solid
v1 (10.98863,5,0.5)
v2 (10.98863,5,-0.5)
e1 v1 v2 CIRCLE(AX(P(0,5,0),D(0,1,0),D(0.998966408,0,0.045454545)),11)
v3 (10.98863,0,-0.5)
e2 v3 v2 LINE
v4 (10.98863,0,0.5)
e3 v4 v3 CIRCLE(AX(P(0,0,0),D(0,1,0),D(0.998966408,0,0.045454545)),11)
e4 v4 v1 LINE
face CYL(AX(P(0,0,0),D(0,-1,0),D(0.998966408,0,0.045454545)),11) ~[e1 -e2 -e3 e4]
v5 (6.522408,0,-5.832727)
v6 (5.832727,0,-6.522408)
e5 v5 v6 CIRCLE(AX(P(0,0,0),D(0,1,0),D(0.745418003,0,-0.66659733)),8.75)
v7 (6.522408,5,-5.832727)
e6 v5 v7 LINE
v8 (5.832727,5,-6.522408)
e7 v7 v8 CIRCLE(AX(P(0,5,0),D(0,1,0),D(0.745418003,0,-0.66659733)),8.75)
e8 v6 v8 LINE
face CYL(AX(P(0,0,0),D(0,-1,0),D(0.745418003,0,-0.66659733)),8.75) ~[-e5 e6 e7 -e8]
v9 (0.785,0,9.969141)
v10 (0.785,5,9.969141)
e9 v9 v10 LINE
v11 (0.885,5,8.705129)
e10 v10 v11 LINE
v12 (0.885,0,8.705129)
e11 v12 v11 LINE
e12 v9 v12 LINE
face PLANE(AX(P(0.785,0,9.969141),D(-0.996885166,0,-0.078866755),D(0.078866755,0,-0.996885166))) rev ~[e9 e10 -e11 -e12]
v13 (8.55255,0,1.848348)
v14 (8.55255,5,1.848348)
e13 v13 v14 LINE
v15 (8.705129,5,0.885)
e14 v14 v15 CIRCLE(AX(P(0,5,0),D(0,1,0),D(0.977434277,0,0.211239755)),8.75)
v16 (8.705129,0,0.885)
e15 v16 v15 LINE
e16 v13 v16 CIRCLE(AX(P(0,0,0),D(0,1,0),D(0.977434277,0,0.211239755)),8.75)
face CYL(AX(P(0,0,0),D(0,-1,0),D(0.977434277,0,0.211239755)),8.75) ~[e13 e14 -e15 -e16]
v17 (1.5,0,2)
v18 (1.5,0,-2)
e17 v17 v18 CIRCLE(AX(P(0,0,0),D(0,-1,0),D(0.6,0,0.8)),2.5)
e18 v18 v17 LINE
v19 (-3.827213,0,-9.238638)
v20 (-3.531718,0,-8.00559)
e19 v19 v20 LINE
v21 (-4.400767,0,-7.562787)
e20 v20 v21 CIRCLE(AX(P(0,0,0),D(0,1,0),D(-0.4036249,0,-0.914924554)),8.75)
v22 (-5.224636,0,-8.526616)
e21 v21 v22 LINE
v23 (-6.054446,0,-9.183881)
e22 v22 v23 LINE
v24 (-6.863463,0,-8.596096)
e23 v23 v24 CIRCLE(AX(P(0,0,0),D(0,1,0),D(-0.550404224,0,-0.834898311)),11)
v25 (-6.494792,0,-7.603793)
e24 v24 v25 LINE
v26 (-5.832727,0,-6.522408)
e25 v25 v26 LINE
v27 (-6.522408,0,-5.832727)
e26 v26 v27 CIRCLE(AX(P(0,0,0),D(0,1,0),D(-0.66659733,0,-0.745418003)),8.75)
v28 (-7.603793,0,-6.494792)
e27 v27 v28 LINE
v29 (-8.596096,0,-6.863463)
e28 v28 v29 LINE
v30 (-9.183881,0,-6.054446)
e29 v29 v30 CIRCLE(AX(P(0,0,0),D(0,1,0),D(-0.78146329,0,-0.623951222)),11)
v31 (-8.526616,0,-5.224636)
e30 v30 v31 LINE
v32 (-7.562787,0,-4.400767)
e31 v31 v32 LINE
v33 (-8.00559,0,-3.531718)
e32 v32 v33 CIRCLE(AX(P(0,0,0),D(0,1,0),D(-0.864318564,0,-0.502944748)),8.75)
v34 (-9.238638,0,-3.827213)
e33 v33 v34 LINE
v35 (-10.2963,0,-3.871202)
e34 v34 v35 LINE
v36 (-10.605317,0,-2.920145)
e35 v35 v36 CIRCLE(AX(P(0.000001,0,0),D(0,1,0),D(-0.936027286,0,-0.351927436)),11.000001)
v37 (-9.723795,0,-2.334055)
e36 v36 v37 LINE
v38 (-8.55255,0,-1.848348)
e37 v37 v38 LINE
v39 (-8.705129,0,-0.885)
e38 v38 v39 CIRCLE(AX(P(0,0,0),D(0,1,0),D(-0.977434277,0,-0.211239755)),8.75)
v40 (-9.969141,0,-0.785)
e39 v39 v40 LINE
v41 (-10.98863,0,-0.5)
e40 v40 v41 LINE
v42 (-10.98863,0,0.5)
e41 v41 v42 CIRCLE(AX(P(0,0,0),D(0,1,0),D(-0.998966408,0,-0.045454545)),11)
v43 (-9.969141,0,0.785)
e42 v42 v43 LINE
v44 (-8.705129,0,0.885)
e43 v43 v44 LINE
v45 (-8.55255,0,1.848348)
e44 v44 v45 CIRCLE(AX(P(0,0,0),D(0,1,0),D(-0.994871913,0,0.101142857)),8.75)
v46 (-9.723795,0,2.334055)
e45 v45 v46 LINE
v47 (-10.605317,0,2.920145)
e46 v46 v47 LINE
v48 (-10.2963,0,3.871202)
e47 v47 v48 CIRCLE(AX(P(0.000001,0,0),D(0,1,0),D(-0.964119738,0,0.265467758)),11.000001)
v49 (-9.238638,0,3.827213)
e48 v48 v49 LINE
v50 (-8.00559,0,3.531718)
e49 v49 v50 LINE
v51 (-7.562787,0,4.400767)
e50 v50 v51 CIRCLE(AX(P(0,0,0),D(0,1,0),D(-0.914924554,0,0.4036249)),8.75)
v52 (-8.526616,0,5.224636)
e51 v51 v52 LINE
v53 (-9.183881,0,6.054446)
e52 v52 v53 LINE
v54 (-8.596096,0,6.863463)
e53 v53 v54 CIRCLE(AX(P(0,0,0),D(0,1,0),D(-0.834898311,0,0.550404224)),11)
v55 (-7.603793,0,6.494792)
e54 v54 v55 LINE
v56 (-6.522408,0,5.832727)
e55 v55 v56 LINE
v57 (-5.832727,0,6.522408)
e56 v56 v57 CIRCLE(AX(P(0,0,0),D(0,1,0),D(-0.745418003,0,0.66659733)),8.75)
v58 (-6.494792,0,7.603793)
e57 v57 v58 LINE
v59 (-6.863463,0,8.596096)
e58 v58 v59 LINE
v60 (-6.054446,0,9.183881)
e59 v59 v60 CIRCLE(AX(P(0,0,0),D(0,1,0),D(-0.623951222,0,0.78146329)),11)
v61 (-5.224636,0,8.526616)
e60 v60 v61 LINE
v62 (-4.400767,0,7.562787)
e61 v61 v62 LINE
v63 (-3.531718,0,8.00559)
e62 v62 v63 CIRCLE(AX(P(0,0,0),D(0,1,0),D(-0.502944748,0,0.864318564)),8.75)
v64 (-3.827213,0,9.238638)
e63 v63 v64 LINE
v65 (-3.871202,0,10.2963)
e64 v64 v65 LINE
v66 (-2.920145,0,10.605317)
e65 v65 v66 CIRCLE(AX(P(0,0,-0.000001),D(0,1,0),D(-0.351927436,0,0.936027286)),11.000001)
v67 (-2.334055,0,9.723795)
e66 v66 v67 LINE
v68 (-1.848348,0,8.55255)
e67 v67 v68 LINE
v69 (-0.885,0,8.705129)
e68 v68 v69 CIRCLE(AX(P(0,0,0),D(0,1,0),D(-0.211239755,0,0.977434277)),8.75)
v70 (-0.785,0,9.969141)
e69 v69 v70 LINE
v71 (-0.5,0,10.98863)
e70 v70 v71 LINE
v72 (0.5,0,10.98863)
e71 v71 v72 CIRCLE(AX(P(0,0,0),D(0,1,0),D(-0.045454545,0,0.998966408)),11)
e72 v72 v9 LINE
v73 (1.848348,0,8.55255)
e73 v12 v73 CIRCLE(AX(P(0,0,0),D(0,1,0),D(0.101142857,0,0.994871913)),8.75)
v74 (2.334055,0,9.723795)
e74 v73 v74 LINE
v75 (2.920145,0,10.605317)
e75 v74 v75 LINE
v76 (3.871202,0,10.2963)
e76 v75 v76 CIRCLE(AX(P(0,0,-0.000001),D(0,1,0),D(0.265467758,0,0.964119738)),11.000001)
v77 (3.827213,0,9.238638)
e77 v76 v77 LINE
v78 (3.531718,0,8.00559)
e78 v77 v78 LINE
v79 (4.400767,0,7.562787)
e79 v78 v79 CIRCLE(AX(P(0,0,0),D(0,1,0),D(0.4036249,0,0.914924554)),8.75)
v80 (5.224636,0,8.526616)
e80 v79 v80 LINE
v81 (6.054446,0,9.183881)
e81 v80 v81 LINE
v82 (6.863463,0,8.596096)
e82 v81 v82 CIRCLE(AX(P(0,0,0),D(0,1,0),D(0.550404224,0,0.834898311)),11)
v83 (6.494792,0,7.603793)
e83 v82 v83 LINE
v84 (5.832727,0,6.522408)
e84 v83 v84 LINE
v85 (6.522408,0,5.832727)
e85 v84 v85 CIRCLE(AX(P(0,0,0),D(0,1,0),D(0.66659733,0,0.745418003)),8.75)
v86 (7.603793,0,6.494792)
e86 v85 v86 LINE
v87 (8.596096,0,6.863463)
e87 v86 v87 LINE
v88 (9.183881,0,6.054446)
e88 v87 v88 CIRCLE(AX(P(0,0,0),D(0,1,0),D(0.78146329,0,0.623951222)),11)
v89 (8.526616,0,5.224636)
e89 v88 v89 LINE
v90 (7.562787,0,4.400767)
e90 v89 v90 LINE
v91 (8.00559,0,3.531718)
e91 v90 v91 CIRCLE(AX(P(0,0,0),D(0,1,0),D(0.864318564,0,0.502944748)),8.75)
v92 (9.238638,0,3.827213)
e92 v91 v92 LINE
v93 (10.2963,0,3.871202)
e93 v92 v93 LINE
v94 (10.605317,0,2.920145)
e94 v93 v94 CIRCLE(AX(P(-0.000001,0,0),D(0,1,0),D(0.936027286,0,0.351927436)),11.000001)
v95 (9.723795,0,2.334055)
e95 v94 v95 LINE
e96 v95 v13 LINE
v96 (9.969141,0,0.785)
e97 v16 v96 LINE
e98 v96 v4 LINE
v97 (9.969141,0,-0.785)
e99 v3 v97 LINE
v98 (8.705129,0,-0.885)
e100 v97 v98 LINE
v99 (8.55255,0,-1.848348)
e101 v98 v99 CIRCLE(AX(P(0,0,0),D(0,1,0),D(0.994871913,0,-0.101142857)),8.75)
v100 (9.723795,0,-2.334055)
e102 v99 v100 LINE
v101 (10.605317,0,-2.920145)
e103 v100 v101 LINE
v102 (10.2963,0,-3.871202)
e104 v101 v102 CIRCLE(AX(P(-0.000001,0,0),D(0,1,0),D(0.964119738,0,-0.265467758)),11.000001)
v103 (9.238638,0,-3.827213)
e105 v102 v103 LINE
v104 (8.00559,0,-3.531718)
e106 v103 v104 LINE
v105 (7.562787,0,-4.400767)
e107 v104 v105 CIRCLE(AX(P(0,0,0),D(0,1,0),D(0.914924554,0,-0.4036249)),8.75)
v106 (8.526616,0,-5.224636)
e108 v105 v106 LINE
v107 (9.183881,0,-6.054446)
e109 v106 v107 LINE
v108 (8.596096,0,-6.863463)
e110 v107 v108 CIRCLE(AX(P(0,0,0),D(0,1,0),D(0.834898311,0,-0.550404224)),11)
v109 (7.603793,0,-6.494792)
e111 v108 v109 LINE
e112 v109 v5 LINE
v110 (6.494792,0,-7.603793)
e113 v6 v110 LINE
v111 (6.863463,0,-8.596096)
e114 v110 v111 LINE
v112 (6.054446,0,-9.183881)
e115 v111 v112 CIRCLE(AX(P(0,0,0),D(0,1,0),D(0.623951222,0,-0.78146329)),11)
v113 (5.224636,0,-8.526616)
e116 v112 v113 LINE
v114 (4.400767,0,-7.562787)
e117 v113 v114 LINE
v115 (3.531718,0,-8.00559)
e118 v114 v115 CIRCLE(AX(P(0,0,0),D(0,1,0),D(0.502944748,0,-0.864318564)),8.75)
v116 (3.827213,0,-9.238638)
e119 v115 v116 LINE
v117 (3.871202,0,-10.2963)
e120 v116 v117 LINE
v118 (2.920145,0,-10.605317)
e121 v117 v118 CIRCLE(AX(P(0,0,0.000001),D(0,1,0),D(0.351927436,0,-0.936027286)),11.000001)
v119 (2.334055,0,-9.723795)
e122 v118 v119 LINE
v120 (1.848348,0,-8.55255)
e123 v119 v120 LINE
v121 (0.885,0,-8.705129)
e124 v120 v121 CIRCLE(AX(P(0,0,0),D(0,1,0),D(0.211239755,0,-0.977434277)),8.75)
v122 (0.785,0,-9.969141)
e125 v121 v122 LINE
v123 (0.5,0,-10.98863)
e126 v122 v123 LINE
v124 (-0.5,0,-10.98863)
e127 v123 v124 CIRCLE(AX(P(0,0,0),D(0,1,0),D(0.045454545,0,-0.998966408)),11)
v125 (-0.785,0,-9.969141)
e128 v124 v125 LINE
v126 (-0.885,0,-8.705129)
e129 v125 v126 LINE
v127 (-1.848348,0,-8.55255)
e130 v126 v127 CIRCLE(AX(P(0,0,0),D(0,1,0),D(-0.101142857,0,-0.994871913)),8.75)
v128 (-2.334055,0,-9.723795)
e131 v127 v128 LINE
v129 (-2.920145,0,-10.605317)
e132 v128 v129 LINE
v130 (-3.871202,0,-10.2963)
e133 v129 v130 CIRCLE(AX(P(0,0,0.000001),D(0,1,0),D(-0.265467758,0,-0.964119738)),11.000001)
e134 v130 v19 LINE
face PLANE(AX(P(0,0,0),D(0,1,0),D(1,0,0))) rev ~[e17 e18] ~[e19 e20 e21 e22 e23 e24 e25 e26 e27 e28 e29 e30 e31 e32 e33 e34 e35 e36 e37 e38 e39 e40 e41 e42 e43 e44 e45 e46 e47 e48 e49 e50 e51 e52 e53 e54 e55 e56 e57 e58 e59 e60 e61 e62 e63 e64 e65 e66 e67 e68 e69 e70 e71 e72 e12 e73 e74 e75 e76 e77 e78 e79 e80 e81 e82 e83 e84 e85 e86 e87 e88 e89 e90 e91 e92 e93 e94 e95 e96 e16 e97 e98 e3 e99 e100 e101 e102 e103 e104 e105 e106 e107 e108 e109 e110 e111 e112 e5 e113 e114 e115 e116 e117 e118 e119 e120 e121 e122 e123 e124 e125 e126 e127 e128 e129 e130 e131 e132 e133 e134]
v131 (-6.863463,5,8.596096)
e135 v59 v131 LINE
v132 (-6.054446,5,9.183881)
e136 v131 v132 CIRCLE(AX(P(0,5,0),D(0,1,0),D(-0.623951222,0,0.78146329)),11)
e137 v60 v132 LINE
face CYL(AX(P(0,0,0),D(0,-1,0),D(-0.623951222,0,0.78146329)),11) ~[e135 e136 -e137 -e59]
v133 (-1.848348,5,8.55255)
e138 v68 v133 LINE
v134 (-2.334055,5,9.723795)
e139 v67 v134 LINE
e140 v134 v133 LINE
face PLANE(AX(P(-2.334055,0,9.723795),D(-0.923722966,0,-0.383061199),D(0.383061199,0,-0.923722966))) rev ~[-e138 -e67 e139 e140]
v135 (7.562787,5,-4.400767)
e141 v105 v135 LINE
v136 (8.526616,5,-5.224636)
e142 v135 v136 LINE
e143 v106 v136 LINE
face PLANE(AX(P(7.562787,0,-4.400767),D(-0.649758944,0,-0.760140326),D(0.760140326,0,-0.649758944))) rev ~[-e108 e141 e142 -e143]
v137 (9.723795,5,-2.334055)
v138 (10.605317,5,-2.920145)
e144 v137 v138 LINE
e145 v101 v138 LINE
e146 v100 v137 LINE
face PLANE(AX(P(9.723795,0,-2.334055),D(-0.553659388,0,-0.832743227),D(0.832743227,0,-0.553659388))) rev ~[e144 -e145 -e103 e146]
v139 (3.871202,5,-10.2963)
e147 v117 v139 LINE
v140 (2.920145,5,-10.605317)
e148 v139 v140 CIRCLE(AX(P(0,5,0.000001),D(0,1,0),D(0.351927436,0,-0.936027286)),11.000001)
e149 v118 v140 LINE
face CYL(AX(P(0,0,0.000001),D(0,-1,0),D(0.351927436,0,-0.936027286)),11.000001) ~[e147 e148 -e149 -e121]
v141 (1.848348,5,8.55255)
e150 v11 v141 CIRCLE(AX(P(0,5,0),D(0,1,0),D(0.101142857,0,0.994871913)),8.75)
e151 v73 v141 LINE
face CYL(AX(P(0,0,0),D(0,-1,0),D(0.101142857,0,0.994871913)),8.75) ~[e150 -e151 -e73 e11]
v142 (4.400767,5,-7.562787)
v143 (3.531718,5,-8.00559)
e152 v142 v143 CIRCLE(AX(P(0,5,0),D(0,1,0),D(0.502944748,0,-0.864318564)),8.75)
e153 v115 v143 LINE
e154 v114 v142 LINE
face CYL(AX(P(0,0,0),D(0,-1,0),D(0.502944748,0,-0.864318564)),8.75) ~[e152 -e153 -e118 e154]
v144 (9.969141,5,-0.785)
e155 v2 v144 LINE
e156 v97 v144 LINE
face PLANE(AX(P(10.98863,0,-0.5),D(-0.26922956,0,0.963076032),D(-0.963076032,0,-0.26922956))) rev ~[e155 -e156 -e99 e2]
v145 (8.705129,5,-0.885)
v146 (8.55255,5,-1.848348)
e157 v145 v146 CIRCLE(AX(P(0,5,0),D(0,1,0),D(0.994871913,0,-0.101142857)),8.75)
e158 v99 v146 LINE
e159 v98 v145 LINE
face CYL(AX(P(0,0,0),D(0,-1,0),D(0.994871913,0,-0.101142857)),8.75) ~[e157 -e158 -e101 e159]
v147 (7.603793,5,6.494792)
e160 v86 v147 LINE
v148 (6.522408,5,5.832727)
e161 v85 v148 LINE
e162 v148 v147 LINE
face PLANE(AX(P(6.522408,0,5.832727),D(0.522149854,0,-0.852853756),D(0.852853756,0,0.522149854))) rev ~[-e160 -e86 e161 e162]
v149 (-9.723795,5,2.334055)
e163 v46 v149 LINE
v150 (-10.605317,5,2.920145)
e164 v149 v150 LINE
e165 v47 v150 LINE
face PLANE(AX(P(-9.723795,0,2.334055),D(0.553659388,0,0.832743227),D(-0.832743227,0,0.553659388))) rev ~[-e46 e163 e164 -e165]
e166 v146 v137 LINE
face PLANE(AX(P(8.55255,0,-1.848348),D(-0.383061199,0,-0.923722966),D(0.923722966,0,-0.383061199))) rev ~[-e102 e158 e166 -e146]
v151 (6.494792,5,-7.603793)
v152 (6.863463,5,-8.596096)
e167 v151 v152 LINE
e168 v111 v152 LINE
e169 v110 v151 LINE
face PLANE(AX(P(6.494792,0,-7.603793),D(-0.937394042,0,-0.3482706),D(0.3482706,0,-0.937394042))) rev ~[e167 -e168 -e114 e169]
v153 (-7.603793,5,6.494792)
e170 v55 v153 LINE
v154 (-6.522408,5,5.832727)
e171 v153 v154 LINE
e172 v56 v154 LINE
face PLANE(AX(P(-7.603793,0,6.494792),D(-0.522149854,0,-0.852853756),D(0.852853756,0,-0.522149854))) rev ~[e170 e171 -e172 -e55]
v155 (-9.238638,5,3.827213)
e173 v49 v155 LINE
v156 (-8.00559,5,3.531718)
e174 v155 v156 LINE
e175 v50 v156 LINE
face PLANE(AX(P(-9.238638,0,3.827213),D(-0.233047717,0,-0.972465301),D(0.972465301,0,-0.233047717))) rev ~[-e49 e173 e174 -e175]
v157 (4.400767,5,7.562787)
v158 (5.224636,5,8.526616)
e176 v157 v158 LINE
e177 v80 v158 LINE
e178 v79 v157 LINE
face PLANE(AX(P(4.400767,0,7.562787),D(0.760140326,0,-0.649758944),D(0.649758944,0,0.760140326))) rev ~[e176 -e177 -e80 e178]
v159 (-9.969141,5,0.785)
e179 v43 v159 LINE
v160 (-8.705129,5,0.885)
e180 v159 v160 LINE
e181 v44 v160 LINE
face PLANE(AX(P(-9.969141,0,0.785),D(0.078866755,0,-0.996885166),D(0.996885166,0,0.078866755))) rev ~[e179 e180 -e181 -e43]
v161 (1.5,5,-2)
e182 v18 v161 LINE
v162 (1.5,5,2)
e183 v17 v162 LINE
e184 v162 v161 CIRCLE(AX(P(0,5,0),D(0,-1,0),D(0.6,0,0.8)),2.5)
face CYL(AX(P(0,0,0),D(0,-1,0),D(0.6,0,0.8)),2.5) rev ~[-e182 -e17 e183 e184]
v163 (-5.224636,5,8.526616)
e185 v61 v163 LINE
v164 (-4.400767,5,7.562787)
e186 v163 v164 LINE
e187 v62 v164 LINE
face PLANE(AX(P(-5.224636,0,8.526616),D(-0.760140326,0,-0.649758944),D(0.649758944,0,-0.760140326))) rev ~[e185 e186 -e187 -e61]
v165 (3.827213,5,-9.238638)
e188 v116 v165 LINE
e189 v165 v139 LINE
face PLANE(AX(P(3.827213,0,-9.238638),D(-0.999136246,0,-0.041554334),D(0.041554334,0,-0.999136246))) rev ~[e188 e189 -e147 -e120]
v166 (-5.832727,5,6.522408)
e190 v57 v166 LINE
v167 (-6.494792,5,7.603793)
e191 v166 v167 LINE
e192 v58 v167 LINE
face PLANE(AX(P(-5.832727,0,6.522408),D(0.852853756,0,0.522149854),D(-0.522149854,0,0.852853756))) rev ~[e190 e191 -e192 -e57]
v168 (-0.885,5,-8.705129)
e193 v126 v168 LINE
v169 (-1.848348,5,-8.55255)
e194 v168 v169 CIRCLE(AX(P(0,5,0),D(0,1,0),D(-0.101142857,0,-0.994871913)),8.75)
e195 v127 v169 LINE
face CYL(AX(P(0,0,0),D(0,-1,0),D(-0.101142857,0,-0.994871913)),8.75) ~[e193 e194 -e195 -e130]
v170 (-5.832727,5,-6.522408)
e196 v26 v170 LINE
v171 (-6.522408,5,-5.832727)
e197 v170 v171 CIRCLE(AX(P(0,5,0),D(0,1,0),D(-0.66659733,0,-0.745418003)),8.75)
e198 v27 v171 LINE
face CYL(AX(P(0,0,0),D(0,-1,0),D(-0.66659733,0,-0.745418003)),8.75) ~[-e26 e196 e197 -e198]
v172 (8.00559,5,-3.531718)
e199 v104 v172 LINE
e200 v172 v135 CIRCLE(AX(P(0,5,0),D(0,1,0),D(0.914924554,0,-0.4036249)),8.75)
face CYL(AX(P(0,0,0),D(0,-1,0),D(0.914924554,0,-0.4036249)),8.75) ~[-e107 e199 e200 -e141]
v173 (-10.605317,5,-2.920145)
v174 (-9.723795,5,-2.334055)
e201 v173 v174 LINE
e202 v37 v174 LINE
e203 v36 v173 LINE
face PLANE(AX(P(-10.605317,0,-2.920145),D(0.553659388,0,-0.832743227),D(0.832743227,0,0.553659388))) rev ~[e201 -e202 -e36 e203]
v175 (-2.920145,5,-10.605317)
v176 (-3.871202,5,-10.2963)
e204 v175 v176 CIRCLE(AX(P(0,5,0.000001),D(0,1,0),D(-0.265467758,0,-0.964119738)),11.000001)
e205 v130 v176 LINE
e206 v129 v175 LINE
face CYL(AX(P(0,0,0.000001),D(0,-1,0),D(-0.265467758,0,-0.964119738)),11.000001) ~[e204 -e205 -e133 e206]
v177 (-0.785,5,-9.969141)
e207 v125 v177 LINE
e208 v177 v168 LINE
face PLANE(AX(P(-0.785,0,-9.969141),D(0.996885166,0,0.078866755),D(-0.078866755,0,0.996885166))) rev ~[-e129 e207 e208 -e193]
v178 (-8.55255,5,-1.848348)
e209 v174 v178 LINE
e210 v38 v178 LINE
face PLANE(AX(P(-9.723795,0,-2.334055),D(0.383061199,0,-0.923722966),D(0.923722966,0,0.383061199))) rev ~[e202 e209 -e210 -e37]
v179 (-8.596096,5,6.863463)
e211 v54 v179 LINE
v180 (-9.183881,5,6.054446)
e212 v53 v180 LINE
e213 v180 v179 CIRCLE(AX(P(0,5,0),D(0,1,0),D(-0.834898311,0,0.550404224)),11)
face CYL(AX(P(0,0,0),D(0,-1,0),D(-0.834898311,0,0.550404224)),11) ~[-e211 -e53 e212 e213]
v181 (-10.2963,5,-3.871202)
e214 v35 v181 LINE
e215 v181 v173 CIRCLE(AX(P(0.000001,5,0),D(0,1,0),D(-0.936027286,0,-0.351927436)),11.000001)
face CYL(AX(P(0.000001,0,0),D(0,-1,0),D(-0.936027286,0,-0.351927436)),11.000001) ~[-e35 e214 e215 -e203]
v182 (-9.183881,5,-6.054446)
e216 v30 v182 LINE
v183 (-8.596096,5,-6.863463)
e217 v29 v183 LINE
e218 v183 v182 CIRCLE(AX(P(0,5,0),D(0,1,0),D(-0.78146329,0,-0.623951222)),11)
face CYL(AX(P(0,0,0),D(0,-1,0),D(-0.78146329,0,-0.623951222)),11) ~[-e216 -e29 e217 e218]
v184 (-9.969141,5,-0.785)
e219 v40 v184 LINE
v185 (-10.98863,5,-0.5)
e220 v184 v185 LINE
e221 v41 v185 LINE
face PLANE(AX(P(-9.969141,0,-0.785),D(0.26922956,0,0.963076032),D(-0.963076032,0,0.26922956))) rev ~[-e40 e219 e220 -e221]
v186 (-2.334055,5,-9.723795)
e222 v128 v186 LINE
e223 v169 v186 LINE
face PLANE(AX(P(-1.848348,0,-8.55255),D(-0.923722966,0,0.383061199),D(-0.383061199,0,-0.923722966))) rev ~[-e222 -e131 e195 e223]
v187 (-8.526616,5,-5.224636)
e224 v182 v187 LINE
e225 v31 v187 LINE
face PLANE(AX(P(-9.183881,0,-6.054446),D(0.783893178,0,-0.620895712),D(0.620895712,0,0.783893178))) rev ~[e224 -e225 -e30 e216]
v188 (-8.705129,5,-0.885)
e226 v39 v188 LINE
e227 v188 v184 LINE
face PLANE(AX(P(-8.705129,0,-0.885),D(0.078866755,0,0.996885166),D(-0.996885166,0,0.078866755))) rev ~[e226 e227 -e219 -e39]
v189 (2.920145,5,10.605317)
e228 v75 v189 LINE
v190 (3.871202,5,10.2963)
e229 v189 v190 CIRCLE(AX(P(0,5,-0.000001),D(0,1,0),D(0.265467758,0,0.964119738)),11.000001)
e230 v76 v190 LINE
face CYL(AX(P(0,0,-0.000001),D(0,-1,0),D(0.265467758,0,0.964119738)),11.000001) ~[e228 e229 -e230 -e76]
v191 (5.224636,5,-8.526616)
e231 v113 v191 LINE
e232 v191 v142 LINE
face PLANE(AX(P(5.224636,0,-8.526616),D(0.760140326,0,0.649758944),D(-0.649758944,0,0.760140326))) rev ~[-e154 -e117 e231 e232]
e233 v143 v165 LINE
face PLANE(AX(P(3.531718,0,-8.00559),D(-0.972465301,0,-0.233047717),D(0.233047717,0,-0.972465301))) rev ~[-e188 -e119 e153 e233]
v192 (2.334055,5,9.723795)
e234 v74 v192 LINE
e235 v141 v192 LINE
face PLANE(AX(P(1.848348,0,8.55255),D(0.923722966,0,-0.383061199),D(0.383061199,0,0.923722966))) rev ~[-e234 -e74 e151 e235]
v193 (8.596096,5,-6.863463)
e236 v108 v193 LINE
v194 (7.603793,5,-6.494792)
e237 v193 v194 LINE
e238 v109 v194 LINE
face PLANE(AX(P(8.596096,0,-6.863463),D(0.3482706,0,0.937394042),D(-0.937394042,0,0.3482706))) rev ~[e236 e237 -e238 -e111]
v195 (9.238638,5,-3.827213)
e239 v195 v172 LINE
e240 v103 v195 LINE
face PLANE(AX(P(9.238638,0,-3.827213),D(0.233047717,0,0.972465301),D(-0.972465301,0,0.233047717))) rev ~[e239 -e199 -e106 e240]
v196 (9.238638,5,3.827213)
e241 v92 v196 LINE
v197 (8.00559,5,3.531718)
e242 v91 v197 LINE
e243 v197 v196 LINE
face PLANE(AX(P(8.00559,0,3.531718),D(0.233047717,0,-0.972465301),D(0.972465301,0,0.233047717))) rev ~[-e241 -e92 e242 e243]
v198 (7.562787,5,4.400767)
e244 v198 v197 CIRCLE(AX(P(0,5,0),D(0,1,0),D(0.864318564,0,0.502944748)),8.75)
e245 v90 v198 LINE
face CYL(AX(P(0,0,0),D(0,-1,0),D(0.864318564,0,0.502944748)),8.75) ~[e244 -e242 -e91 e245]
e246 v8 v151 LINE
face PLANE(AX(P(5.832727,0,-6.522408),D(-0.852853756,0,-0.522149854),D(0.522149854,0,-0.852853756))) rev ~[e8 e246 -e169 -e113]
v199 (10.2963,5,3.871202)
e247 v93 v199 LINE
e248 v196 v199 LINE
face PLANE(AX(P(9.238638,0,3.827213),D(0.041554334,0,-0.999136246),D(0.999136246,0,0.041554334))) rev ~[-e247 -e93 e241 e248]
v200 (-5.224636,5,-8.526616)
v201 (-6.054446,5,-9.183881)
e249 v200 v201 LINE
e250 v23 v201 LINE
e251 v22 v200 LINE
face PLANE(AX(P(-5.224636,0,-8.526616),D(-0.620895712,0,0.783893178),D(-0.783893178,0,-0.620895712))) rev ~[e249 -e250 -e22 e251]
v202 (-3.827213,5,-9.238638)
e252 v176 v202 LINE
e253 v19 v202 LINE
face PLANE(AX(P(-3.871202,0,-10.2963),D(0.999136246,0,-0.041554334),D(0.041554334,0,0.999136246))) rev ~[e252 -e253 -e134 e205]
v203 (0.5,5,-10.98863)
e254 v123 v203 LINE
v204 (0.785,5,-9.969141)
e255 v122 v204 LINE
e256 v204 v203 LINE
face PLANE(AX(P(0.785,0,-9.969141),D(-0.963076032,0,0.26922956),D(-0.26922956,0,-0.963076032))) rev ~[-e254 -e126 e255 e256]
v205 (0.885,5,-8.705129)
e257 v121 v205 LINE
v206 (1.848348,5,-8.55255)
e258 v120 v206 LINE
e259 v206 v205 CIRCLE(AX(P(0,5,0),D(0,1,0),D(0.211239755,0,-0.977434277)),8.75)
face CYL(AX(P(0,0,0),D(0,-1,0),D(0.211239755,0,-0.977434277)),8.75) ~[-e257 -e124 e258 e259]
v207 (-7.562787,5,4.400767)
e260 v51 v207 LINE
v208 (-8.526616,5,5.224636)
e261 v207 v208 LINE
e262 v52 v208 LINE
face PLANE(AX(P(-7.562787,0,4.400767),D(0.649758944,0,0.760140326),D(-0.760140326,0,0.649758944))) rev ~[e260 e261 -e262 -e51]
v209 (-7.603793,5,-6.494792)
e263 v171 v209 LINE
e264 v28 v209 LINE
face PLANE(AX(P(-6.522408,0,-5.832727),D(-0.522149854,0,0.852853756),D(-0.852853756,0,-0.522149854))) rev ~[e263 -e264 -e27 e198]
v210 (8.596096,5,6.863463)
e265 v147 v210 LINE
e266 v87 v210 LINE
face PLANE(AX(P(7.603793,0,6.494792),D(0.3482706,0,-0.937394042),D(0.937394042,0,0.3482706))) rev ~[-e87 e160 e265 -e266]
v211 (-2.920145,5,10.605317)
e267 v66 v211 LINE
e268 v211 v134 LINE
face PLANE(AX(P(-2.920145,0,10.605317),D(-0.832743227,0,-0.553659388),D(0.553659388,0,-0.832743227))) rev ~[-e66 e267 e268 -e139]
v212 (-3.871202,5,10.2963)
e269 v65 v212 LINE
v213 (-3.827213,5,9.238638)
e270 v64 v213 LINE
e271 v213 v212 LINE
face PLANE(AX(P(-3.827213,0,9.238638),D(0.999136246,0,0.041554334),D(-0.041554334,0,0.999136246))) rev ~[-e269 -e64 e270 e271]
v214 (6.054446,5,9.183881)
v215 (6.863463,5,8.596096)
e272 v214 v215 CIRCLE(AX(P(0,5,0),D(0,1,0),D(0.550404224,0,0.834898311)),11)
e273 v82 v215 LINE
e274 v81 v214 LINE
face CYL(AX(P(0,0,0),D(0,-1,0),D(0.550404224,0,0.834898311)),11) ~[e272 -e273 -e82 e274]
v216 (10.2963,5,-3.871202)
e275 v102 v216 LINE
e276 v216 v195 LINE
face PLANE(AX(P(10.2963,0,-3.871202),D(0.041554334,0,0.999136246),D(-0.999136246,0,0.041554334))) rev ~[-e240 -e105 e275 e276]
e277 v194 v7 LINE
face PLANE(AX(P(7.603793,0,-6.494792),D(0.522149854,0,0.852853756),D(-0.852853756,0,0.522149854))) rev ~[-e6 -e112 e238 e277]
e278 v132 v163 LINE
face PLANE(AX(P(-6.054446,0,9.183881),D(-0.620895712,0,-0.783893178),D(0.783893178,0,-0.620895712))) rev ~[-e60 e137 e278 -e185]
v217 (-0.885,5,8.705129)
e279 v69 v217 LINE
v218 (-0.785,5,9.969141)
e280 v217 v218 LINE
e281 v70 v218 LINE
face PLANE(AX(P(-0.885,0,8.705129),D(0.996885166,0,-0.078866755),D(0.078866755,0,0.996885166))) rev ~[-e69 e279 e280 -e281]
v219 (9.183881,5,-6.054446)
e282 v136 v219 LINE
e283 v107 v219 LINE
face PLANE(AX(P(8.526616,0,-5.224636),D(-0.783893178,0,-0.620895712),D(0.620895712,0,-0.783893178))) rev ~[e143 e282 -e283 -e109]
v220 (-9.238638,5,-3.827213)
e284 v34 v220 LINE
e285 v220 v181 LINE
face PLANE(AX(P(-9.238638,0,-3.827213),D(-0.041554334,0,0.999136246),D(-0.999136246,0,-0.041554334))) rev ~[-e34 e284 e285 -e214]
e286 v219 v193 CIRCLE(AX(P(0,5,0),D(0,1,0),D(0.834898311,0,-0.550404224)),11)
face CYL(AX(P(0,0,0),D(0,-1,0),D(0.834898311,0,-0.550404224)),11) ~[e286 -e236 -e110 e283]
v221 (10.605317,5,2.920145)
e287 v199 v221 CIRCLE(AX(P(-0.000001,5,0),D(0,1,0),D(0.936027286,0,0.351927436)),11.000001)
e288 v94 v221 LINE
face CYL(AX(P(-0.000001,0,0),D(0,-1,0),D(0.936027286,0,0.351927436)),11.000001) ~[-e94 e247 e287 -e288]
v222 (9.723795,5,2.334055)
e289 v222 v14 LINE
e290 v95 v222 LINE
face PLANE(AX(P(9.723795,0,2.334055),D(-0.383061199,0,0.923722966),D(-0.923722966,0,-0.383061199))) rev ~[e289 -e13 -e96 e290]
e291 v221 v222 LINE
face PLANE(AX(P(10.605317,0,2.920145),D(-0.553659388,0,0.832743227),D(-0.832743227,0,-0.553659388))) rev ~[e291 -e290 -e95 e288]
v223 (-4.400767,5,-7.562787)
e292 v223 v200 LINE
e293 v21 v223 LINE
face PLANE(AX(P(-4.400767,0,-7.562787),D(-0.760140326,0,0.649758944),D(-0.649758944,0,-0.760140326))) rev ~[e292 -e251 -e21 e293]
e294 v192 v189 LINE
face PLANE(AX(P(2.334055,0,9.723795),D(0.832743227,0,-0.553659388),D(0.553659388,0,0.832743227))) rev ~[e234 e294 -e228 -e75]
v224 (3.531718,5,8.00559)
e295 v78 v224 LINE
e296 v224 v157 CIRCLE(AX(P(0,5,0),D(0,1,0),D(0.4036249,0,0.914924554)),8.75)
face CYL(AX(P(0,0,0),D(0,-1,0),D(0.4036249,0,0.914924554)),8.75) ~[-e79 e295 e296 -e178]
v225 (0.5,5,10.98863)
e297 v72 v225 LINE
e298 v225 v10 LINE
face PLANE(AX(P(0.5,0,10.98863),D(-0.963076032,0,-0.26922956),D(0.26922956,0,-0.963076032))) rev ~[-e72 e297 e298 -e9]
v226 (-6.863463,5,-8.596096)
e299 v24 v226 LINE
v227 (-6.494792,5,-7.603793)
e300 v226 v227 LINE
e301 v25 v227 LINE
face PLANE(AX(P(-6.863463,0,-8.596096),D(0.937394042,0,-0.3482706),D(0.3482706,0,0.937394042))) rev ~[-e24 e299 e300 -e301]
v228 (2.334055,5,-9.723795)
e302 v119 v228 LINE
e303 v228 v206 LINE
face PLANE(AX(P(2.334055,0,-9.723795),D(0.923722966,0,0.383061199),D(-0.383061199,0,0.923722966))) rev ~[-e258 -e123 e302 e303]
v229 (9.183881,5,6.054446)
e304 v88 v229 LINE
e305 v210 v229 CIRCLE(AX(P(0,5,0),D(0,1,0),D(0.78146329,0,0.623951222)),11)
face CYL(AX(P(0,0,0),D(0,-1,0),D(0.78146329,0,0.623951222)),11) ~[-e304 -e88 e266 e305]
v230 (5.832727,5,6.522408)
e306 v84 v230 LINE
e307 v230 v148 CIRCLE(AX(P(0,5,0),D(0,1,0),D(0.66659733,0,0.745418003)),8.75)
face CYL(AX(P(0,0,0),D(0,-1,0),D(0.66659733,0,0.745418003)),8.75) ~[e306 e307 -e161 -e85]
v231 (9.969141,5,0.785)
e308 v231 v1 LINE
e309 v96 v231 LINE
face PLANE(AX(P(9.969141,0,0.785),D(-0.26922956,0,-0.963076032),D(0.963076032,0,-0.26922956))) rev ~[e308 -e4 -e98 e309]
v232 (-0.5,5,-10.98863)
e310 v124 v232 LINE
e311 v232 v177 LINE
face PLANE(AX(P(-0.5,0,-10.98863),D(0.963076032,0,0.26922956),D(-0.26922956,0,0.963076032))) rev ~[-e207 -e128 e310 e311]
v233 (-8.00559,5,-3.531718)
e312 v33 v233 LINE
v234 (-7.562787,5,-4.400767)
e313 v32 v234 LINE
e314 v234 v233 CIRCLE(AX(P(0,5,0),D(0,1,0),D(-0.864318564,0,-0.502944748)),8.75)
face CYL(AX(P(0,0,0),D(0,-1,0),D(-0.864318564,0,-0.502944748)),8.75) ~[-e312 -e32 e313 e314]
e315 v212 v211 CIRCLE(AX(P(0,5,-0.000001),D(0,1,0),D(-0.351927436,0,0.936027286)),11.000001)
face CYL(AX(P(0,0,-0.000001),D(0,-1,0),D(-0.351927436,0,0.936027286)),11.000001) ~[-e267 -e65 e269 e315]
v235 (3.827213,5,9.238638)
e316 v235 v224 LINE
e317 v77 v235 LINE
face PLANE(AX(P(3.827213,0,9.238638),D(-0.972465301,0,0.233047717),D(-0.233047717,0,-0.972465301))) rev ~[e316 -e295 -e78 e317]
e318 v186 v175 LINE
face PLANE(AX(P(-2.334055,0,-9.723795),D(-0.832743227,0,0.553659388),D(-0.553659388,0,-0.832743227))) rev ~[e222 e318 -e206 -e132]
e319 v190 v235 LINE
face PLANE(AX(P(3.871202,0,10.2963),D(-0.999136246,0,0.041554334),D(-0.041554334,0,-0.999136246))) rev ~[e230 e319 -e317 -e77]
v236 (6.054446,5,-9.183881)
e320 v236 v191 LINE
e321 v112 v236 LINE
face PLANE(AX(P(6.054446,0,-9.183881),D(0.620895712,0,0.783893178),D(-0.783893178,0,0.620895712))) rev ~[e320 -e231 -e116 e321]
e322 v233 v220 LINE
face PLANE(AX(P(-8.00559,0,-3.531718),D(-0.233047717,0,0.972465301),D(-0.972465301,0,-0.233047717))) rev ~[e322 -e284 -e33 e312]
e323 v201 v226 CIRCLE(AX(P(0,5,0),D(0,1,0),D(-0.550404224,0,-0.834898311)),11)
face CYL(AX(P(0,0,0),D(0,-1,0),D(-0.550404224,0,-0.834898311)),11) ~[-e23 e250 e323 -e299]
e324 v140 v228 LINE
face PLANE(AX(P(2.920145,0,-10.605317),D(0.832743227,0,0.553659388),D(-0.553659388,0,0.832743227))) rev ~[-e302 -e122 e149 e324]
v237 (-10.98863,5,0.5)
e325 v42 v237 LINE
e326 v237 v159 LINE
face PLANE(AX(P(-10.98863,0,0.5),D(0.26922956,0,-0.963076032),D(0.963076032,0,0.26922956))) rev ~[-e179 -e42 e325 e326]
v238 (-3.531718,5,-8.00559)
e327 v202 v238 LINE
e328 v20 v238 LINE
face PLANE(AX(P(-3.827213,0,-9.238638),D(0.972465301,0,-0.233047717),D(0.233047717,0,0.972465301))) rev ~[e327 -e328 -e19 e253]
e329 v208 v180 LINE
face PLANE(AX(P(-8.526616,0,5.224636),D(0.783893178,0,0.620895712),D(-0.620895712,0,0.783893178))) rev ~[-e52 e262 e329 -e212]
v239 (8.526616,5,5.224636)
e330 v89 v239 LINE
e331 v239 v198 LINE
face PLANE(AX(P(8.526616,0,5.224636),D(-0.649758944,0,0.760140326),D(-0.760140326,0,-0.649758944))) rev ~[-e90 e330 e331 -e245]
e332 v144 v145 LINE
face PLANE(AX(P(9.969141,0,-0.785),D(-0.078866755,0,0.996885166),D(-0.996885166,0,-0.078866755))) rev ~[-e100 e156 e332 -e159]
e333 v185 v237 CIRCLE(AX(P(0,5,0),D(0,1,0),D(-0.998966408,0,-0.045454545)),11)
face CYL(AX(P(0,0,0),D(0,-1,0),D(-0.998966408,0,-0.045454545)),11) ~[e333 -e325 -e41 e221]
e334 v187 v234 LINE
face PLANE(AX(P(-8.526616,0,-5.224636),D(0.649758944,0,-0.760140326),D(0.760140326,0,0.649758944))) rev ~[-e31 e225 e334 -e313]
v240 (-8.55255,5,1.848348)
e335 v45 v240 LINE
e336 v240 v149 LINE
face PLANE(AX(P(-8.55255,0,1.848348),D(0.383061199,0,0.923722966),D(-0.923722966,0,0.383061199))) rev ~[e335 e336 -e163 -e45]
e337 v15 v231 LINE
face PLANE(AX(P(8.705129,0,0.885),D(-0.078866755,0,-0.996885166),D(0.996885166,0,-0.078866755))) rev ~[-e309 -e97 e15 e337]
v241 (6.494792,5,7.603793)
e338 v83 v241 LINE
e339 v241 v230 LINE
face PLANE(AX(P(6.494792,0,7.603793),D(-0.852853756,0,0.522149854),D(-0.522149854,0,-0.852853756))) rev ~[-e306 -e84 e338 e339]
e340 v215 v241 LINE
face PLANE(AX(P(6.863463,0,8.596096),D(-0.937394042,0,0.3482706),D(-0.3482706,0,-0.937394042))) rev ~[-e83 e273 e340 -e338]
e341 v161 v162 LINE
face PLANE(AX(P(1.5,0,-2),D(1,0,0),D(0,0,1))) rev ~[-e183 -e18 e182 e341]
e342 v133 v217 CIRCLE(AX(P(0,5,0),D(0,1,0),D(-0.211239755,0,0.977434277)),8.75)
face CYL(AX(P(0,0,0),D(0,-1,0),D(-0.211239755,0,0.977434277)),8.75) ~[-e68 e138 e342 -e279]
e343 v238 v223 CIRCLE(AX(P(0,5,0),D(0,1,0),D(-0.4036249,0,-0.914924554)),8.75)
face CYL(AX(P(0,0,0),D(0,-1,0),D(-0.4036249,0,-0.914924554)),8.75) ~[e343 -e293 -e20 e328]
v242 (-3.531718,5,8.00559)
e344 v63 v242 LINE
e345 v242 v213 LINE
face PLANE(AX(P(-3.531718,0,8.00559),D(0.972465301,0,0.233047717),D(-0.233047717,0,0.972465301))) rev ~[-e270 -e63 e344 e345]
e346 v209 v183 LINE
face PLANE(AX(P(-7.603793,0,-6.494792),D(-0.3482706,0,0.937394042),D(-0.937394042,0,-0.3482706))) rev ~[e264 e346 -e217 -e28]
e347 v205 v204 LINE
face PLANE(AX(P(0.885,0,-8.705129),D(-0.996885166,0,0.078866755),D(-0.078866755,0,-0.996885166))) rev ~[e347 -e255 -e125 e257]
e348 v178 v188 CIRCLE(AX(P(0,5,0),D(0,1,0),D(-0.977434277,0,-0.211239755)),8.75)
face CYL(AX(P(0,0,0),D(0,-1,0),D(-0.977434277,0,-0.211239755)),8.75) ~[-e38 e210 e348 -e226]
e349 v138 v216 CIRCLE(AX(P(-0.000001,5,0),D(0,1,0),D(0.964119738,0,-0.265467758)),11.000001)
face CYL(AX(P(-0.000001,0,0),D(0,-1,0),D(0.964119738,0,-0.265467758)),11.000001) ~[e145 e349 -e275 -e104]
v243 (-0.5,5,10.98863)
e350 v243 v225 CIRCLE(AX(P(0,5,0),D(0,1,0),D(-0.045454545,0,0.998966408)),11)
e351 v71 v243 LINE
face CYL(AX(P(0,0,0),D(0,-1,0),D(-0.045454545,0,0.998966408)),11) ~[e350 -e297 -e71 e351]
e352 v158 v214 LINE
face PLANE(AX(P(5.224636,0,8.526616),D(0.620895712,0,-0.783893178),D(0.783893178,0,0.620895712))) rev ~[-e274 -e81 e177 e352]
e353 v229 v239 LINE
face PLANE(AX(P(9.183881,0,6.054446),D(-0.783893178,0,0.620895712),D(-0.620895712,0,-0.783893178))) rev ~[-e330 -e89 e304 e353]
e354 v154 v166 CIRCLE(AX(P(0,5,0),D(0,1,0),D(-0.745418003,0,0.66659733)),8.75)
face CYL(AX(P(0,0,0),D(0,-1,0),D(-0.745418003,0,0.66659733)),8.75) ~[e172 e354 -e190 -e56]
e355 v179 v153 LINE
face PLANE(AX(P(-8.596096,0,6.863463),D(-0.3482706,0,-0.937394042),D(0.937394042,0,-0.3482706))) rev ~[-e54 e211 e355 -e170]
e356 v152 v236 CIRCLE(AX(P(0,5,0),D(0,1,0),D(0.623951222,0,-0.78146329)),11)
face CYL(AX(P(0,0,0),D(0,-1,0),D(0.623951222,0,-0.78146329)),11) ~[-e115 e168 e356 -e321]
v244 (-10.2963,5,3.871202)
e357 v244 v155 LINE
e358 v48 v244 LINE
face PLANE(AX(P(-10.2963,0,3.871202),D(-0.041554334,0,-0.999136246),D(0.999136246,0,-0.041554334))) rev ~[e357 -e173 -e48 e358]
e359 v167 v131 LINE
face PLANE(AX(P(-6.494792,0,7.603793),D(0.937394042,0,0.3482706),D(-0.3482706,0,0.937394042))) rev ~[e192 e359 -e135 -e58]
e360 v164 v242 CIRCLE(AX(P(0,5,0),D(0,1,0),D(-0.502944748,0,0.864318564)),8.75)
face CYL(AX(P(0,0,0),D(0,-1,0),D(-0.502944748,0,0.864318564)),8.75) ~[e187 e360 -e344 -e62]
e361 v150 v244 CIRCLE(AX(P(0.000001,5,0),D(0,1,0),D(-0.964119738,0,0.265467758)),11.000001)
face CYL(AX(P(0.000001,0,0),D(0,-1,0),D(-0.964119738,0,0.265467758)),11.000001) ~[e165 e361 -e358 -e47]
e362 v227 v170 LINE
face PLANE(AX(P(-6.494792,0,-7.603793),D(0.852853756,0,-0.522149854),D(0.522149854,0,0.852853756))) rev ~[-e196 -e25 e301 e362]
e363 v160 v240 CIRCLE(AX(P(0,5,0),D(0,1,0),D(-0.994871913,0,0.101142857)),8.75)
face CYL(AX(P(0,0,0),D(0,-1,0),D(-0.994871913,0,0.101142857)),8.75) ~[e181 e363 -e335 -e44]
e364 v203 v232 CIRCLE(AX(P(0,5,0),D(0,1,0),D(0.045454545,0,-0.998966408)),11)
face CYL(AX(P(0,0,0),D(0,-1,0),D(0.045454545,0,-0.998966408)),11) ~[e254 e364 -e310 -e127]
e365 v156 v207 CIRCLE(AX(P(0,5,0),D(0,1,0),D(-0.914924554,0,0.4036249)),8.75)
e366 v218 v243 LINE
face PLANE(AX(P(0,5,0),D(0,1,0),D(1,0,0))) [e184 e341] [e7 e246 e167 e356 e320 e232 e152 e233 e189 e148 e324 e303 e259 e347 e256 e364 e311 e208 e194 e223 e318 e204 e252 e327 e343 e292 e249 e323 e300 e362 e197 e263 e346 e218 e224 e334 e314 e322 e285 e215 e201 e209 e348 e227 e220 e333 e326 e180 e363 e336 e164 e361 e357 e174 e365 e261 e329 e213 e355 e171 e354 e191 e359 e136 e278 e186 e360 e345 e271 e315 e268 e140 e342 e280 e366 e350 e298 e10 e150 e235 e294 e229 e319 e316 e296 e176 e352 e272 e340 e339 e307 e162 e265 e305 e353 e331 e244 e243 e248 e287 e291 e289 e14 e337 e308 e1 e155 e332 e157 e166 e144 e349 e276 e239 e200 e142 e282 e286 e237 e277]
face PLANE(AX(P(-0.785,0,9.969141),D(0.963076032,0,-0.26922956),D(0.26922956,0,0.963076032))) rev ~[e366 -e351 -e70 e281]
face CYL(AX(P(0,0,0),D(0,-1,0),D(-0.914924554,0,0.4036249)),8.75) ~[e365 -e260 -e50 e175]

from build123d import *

# Parameters (mm, degrees)
BOSS_EXTRUDE1_DEPTH = 5


with BuildPart() as part:
    # Sketch1 → Boss-Extrude1 (new body)
    with BuildSketch(Plane(origin=(0, 0, 0), x_dir=(1, 0, 0), z_dir=(0, 1, 0))):
        with BuildLine():
            Line((0.885, 8.705129235), (0.785, 9.969141137))
            Line((0.785, 9.969141137), (0.5, 10.988630488))
            ThreePointArc((0.5, 10.988630488), (0, 11), (-0.5, 10.988630488))
            Line((-0.5, 10.988630488), (-0.785, 9.969141137))
            Line((-0.785, 9.969141137), (-0.885, 8.705129235))
            ThreePointArc((-0.885, 8.705129235), (-1.368801569, 8.64227298), (-1.848347855, 8.552549924))
            Line((-1.848347855, 8.552549924), (-2.334054665, 9.72379498))
            Line((-2.334054665, 9.72379498), (-2.920145308, 10.605317128))
            ThreePointArc((-2.920145308, 10.605317128), (-3.399186938, 10.461621679), (-3.871201824, 10.296300134))
            Line((-3.871201824, 10.296300134), (-3.827213396, 9.238638299))
            Line((-3.827213396, 9.238638299), (-3.531717889, 8.005589844))
            ThreePointArc((-3.531717889, 8.005589844), (-3.972416873, 7.796307087), (-4.400766544, 7.562787438))
            Line((-4.400766544, 7.562787438), (-5.224635797, 8.526616022))
            Line((-5.224635797, 8.526616022), (-6.054446447, 9.183881436))
            ThreePointArc((-6.054446447, 9.183881436), (-6.465637775, 8.899186938), (-6.863463441, 8.596096183))
            Line((-6.863463441, 8.596096183), (-6.494792479, 7.603793176))
            Line((-6.494792479, 7.603793176), (-5.832726624, 6.522407541))
            ThreePointArc((-5.832726624, 6.522407541), (-6.187184335, 6.187184335), (-6.522407541, 5.832726624))
            Line((-6.522407541, 5.832726624), (-7.603793176, 6.494792479))
            Line((-7.603793176, 6.494792479), (-8.596096183, 6.863463441))
            ThreePointArc((-8.596096183, 6.863463441), (-8.899186938, 6.465637775), (-9.183881436, 6.054446447))
            Line((-9.183881436, 6.054446447), (-8.526616022, 5.224635797))
            Line((-8.526616022, 5.224635797), (-7.562787438, 4.400766544))
            ThreePointArc((-7.562787438, 4.400766544), (-7.796307087, 3.972416873), (-8.005589844, 3.531717889))
            Line((-8.005589844, 3.531717889), (-9.238638299, 3.827213396))
            Line((-9.238638299, 3.827213396), (-10.296300134, 3.871201824))
            ThreePointArc((-10.296300134, 3.871201824), (-10.461621679, 3.399186938), (-10.605317128, 2.920145308))
            Line((-10.605317128, 2.920145308), (-9.72379498, 2.334054665))
            Line((-9.72379498, 2.334054665), (-8.552549924, 1.848347855))
            ThreePointArc((-8.552549924, 1.848347855), (-8.64227298, 1.368801569), (-8.705129235, 0.885))
            Line((-8.705129235, 0.885), (-9.969141137, 0.785))
            Line((-9.969141137, 0.785), (-10.988630488, 0.5))
            ThreePointArc((-10.988630488, 0.5), (-11, 0), (-10.988630488, -0.5))
            Line((-10.988630488, -0.5), (-9.969141137, -0.785))
            Line((-9.969141137, -0.785), (-8.705129235, -0.885))
            ThreePointArc((-8.705129235, -0.885), (-8.64227298, -1.368801569), (-8.552549924, -1.848347855))
            Line((-8.552549924, -1.848347855), (-9.72379498, -2.334054665))
            Line((-9.72379498, -2.334054665), (-10.605317128, -2.920145308))
            ThreePointArc((-10.605317128, -2.920145308), (-10.461621679, -3.399186938), (-10.296300134, -3.871201824))
            Line((-10.296300134, -3.871201824), (-9.238638299, -3.827213396))
            Line((-9.238638299, -3.827213396), (-8.005589844, -3.531717889))
            ThreePointArc((-8.005589844, -3.531717889), (-7.796307087, -3.972416873), (-7.562787438, -4.400766544))
            Line((-7.562787438, -4.400766544), (-8.526616022, -5.224635797))
            Line((-8.526616022, -5.224635797), (-9.183881436, -6.054446447))
            ThreePointArc((-9.183881436, -6.054446447), (-8.899186938, -6.465637775), (-8.596096183, -6.863463441))
            Line((-8.596096183, -6.863463441), (-7.603793176, -6.494792479))
            Line((-7.603793176, -6.494792479), (-6.522407541, -5.832726624))
            ThreePointArc((-6.522407541, -5.832726624), (-6.187184335, -6.187184335), (-5.832726624, -6.522407541))
            Line((-5.832726624, -6.522407541), (-6.494792479, -7.603793176))
            Line((-6.494792479, -7.603793176), (-6.863463441, -8.596096183))
            ThreePointArc((-6.863463441, -8.596096183), (-6.465637775, -8.899186938), (-6.054446447, -9.183881436))
            Line((-6.054446447, -9.183881436), (-5.224635797, -8.526616022))
            Line((-5.224635797, -8.526616022), (-4.400766544, -7.562787438))
            ThreePointArc((-4.400766544, -7.562787438), (-3.972416873, -7.796307087), (-3.531717889, -8.005589844))
            Line((-3.531717889, -8.005589844), (-3.827213396, -9.238638299))
            Line((-3.827213396, -9.238638299), (-3.871201824, -10.296300134))
            ThreePointArc((-3.871201824, -10.296300134), (-3.399186938, -10.461621679), (-2.920145308, -10.605317128))
            Line((-2.920145308, -10.605317128), (-2.334054665, -9.72379498))
            Line((-2.334054665, -9.72379498), (-1.848347855, -8.552549924))
            ThreePointArc((-1.848347855, -8.552549924), (-1.368801569, -8.64227298), (-0.885, -8.705129235))
            Line((-0.885, -8.705129235), (-0.785, -9.969141137))
            Line((-0.785, -9.969141137), (-0.5, -10.988630488))
            ThreePointArc((-0.5, -10.988630488), (0, -11), (0.5, -10.988630488))
            Line((0.5, -10.988630488), (0.785, -9.969141137))
            Line((0.785, -9.969141137), (0.885, -8.705129235))
            ThreePointArc((0.885, -8.705129235), (1.368801569, -8.64227298), (1.848347855, -8.552549924))
            Line((1.848347855, -8.552549924), (2.334054665, -9.72379498))
            Line((2.334054665, -9.72379498), (2.920145308, -10.605317128))
            ThreePointArc((2.920145308, -10.605317128), (3.399186938, -10.461621679), (3.871201824, -10.296300134))
            Line((3.871201824, -10.296300134), (3.827213396, -9.238638299))
            Line((3.827213396, -9.238638299), (3.531717889, -8.005589844))
            ThreePointArc((3.531717889, -8.005589844), (3.972416873, -7.796307087), (4.400766544, -7.562787438))
            Line((4.400766544, -7.562787438), (5.224635797, -8.526616022))
            Line((5.224635797, -8.526616022), (6.054446447, -9.183881436))
            ThreePointArc((6.054446447, -9.183881436), (6.465637775, -8.899186938), (6.863463441, -8.596096183))
            Line((6.863463441, -8.596096183), (6.494792479, -7.603793176))
            Line((6.494792479, -7.603793176), (5.832726624, -6.522407541))
            ThreePointArc((5.832726624, -6.522407541), (6.187184335, -6.187184335), (6.522407541, -5.832726624))
            Line((6.522407541, -5.832726624), (7.603793176, -6.494792479))
            Line((7.603793176, -6.494792479), (8.596096183, -6.863463441))
            ThreePointArc((8.596096183, -6.863463441), (8.899186938, -6.465637775), (9.183881436, -6.054446447))
            Line((9.183881436, -6.054446447), (8.526616022, -5.224635797))
            Line((8.526616022, -5.224635797), (7.562787438, -4.400766544))
            ThreePointArc((7.562787438, -4.400766544), (7.796307087, -3.972416873), (8.005589844, -3.531717889))
            Line((8.005589844, -3.531717889), (9.238638299, -3.827213396))
            Line((9.238638299, -3.827213396), (10.296300134, -3.871201824))
            ThreePointArc((10.296300134, -3.871201824), (10.461621679, -3.399186938), (10.605317128, -2.920145308))
            Line((10.605317128, -2.920145308), (9.72379498, -2.334054665))
            Line((9.72379498, -2.334054665), (8.552549924, -1.848347855))
            ThreePointArc((8.552549924, -1.848347855), (8.64227298, -1.368801569), (8.705129235, -0.885))
            Line((8.705129235, -0.885), (9.969141137, -0.785))
            Line((9.969141137, -0.785), (10.988630488, -0.5))
            ThreePointArc((10.988630488, -0.5), (11, 0), (10.988630488, 0.5))
            Line((10.988630488, 0.5), (9.969141137, 0.785))
            Line((9.969141137, 0.785), (8.705129235, 0.885))
            ThreePointArc((8.705129235, 0.885), (8.64227298, 1.368801569), (8.552549924, 1.848347855))
            Line((8.552549924, 1.848347855), (9.72379498, 2.334054665))
            Line((9.72379498, 2.334054665), (10.605317128, 2.920145308))
            ThreePointArc((10.605317128, 2.920145308), (10.461621679, 3.399186938), (10.296300134, 3.871201824))
            Line((10.296300134, 3.871201824), (9.238638299, 3.827213396))
            Line((9.238638299, 3.827213396), (8.005589844, 3.531717889))
            ThreePointArc((8.005589844, 3.531717889), (7.796307087, 3.972416873), (7.562787438, 4.400766544))
            Line((7.562787438, 4.400766544), (8.526616022, 5.224635797))
            Line((8.526616022, 5.224635797), (9.183881436, 6.054446447))
            ThreePointArc((9.183881436, 6.054446447), (8.899186938, 6.465637775), (8.596096183, 6.863463441))
            Line((8.596096183, 6.863463441), (7.603793176, 6.494792479))
            Line((7.603793176, 6.494792479), (6.522407541, 5.832726624))
            ThreePointArc((6.522407541, 5.832726624), (6.187184335, 6.187184335), (5.832726624, 6.522407541))
            Line((5.832726624, 6.522407541), (6.494792479, 7.603793176))
            Line((6.494792479, 7.603793176), (6.863463441, 8.596096183))
            ThreePointArc((6.863463441, 8.596096183), (6.465637775, 8.899186938), (6.054446447, 9.183881436))
            Line((6.054446447, 9.183881436), (5.224635797, 8.526616022))
            Line((5.224635797, 8.526616022), (4.400766544, 7.562787438))
            ThreePointArc((4.400766544, 7.562787438), (3.972416873, 7.796307087), (3.531717889, 8.005589844))
            Line((3.531717889, 8.005589844), (3.827213396, 9.238638299))
            Line((3.827213396, 9.238638299), (3.871201824, 10.296300134))
            ThreePointArc((3.871201824, 10.296300134), (3.399186938, 10.461621679), (2.920145308, 10.605317128))
            Line((2.920145308, 10.605317128), (2.334054665, 9.72379498))
            Line((2.334054665, 9.72379498), (1.848347855, 8.552549924))
            ThreePointArc((1.848347855, 8.552549924), (1.368801569, 8.64227298), (0.885, 8.705129235))
        make_face()
        with BuildLine():
            Line((1.5, 2), (1.5, -2))
            ThreePointArc((1.5, -2), (-2.5, 0), (1.5, 2))
        make_face(mode=Mode.SUBTRACT)
    extrude(amount=BOSS_EXTRUDE1_DEPTH)


solid = part.part
